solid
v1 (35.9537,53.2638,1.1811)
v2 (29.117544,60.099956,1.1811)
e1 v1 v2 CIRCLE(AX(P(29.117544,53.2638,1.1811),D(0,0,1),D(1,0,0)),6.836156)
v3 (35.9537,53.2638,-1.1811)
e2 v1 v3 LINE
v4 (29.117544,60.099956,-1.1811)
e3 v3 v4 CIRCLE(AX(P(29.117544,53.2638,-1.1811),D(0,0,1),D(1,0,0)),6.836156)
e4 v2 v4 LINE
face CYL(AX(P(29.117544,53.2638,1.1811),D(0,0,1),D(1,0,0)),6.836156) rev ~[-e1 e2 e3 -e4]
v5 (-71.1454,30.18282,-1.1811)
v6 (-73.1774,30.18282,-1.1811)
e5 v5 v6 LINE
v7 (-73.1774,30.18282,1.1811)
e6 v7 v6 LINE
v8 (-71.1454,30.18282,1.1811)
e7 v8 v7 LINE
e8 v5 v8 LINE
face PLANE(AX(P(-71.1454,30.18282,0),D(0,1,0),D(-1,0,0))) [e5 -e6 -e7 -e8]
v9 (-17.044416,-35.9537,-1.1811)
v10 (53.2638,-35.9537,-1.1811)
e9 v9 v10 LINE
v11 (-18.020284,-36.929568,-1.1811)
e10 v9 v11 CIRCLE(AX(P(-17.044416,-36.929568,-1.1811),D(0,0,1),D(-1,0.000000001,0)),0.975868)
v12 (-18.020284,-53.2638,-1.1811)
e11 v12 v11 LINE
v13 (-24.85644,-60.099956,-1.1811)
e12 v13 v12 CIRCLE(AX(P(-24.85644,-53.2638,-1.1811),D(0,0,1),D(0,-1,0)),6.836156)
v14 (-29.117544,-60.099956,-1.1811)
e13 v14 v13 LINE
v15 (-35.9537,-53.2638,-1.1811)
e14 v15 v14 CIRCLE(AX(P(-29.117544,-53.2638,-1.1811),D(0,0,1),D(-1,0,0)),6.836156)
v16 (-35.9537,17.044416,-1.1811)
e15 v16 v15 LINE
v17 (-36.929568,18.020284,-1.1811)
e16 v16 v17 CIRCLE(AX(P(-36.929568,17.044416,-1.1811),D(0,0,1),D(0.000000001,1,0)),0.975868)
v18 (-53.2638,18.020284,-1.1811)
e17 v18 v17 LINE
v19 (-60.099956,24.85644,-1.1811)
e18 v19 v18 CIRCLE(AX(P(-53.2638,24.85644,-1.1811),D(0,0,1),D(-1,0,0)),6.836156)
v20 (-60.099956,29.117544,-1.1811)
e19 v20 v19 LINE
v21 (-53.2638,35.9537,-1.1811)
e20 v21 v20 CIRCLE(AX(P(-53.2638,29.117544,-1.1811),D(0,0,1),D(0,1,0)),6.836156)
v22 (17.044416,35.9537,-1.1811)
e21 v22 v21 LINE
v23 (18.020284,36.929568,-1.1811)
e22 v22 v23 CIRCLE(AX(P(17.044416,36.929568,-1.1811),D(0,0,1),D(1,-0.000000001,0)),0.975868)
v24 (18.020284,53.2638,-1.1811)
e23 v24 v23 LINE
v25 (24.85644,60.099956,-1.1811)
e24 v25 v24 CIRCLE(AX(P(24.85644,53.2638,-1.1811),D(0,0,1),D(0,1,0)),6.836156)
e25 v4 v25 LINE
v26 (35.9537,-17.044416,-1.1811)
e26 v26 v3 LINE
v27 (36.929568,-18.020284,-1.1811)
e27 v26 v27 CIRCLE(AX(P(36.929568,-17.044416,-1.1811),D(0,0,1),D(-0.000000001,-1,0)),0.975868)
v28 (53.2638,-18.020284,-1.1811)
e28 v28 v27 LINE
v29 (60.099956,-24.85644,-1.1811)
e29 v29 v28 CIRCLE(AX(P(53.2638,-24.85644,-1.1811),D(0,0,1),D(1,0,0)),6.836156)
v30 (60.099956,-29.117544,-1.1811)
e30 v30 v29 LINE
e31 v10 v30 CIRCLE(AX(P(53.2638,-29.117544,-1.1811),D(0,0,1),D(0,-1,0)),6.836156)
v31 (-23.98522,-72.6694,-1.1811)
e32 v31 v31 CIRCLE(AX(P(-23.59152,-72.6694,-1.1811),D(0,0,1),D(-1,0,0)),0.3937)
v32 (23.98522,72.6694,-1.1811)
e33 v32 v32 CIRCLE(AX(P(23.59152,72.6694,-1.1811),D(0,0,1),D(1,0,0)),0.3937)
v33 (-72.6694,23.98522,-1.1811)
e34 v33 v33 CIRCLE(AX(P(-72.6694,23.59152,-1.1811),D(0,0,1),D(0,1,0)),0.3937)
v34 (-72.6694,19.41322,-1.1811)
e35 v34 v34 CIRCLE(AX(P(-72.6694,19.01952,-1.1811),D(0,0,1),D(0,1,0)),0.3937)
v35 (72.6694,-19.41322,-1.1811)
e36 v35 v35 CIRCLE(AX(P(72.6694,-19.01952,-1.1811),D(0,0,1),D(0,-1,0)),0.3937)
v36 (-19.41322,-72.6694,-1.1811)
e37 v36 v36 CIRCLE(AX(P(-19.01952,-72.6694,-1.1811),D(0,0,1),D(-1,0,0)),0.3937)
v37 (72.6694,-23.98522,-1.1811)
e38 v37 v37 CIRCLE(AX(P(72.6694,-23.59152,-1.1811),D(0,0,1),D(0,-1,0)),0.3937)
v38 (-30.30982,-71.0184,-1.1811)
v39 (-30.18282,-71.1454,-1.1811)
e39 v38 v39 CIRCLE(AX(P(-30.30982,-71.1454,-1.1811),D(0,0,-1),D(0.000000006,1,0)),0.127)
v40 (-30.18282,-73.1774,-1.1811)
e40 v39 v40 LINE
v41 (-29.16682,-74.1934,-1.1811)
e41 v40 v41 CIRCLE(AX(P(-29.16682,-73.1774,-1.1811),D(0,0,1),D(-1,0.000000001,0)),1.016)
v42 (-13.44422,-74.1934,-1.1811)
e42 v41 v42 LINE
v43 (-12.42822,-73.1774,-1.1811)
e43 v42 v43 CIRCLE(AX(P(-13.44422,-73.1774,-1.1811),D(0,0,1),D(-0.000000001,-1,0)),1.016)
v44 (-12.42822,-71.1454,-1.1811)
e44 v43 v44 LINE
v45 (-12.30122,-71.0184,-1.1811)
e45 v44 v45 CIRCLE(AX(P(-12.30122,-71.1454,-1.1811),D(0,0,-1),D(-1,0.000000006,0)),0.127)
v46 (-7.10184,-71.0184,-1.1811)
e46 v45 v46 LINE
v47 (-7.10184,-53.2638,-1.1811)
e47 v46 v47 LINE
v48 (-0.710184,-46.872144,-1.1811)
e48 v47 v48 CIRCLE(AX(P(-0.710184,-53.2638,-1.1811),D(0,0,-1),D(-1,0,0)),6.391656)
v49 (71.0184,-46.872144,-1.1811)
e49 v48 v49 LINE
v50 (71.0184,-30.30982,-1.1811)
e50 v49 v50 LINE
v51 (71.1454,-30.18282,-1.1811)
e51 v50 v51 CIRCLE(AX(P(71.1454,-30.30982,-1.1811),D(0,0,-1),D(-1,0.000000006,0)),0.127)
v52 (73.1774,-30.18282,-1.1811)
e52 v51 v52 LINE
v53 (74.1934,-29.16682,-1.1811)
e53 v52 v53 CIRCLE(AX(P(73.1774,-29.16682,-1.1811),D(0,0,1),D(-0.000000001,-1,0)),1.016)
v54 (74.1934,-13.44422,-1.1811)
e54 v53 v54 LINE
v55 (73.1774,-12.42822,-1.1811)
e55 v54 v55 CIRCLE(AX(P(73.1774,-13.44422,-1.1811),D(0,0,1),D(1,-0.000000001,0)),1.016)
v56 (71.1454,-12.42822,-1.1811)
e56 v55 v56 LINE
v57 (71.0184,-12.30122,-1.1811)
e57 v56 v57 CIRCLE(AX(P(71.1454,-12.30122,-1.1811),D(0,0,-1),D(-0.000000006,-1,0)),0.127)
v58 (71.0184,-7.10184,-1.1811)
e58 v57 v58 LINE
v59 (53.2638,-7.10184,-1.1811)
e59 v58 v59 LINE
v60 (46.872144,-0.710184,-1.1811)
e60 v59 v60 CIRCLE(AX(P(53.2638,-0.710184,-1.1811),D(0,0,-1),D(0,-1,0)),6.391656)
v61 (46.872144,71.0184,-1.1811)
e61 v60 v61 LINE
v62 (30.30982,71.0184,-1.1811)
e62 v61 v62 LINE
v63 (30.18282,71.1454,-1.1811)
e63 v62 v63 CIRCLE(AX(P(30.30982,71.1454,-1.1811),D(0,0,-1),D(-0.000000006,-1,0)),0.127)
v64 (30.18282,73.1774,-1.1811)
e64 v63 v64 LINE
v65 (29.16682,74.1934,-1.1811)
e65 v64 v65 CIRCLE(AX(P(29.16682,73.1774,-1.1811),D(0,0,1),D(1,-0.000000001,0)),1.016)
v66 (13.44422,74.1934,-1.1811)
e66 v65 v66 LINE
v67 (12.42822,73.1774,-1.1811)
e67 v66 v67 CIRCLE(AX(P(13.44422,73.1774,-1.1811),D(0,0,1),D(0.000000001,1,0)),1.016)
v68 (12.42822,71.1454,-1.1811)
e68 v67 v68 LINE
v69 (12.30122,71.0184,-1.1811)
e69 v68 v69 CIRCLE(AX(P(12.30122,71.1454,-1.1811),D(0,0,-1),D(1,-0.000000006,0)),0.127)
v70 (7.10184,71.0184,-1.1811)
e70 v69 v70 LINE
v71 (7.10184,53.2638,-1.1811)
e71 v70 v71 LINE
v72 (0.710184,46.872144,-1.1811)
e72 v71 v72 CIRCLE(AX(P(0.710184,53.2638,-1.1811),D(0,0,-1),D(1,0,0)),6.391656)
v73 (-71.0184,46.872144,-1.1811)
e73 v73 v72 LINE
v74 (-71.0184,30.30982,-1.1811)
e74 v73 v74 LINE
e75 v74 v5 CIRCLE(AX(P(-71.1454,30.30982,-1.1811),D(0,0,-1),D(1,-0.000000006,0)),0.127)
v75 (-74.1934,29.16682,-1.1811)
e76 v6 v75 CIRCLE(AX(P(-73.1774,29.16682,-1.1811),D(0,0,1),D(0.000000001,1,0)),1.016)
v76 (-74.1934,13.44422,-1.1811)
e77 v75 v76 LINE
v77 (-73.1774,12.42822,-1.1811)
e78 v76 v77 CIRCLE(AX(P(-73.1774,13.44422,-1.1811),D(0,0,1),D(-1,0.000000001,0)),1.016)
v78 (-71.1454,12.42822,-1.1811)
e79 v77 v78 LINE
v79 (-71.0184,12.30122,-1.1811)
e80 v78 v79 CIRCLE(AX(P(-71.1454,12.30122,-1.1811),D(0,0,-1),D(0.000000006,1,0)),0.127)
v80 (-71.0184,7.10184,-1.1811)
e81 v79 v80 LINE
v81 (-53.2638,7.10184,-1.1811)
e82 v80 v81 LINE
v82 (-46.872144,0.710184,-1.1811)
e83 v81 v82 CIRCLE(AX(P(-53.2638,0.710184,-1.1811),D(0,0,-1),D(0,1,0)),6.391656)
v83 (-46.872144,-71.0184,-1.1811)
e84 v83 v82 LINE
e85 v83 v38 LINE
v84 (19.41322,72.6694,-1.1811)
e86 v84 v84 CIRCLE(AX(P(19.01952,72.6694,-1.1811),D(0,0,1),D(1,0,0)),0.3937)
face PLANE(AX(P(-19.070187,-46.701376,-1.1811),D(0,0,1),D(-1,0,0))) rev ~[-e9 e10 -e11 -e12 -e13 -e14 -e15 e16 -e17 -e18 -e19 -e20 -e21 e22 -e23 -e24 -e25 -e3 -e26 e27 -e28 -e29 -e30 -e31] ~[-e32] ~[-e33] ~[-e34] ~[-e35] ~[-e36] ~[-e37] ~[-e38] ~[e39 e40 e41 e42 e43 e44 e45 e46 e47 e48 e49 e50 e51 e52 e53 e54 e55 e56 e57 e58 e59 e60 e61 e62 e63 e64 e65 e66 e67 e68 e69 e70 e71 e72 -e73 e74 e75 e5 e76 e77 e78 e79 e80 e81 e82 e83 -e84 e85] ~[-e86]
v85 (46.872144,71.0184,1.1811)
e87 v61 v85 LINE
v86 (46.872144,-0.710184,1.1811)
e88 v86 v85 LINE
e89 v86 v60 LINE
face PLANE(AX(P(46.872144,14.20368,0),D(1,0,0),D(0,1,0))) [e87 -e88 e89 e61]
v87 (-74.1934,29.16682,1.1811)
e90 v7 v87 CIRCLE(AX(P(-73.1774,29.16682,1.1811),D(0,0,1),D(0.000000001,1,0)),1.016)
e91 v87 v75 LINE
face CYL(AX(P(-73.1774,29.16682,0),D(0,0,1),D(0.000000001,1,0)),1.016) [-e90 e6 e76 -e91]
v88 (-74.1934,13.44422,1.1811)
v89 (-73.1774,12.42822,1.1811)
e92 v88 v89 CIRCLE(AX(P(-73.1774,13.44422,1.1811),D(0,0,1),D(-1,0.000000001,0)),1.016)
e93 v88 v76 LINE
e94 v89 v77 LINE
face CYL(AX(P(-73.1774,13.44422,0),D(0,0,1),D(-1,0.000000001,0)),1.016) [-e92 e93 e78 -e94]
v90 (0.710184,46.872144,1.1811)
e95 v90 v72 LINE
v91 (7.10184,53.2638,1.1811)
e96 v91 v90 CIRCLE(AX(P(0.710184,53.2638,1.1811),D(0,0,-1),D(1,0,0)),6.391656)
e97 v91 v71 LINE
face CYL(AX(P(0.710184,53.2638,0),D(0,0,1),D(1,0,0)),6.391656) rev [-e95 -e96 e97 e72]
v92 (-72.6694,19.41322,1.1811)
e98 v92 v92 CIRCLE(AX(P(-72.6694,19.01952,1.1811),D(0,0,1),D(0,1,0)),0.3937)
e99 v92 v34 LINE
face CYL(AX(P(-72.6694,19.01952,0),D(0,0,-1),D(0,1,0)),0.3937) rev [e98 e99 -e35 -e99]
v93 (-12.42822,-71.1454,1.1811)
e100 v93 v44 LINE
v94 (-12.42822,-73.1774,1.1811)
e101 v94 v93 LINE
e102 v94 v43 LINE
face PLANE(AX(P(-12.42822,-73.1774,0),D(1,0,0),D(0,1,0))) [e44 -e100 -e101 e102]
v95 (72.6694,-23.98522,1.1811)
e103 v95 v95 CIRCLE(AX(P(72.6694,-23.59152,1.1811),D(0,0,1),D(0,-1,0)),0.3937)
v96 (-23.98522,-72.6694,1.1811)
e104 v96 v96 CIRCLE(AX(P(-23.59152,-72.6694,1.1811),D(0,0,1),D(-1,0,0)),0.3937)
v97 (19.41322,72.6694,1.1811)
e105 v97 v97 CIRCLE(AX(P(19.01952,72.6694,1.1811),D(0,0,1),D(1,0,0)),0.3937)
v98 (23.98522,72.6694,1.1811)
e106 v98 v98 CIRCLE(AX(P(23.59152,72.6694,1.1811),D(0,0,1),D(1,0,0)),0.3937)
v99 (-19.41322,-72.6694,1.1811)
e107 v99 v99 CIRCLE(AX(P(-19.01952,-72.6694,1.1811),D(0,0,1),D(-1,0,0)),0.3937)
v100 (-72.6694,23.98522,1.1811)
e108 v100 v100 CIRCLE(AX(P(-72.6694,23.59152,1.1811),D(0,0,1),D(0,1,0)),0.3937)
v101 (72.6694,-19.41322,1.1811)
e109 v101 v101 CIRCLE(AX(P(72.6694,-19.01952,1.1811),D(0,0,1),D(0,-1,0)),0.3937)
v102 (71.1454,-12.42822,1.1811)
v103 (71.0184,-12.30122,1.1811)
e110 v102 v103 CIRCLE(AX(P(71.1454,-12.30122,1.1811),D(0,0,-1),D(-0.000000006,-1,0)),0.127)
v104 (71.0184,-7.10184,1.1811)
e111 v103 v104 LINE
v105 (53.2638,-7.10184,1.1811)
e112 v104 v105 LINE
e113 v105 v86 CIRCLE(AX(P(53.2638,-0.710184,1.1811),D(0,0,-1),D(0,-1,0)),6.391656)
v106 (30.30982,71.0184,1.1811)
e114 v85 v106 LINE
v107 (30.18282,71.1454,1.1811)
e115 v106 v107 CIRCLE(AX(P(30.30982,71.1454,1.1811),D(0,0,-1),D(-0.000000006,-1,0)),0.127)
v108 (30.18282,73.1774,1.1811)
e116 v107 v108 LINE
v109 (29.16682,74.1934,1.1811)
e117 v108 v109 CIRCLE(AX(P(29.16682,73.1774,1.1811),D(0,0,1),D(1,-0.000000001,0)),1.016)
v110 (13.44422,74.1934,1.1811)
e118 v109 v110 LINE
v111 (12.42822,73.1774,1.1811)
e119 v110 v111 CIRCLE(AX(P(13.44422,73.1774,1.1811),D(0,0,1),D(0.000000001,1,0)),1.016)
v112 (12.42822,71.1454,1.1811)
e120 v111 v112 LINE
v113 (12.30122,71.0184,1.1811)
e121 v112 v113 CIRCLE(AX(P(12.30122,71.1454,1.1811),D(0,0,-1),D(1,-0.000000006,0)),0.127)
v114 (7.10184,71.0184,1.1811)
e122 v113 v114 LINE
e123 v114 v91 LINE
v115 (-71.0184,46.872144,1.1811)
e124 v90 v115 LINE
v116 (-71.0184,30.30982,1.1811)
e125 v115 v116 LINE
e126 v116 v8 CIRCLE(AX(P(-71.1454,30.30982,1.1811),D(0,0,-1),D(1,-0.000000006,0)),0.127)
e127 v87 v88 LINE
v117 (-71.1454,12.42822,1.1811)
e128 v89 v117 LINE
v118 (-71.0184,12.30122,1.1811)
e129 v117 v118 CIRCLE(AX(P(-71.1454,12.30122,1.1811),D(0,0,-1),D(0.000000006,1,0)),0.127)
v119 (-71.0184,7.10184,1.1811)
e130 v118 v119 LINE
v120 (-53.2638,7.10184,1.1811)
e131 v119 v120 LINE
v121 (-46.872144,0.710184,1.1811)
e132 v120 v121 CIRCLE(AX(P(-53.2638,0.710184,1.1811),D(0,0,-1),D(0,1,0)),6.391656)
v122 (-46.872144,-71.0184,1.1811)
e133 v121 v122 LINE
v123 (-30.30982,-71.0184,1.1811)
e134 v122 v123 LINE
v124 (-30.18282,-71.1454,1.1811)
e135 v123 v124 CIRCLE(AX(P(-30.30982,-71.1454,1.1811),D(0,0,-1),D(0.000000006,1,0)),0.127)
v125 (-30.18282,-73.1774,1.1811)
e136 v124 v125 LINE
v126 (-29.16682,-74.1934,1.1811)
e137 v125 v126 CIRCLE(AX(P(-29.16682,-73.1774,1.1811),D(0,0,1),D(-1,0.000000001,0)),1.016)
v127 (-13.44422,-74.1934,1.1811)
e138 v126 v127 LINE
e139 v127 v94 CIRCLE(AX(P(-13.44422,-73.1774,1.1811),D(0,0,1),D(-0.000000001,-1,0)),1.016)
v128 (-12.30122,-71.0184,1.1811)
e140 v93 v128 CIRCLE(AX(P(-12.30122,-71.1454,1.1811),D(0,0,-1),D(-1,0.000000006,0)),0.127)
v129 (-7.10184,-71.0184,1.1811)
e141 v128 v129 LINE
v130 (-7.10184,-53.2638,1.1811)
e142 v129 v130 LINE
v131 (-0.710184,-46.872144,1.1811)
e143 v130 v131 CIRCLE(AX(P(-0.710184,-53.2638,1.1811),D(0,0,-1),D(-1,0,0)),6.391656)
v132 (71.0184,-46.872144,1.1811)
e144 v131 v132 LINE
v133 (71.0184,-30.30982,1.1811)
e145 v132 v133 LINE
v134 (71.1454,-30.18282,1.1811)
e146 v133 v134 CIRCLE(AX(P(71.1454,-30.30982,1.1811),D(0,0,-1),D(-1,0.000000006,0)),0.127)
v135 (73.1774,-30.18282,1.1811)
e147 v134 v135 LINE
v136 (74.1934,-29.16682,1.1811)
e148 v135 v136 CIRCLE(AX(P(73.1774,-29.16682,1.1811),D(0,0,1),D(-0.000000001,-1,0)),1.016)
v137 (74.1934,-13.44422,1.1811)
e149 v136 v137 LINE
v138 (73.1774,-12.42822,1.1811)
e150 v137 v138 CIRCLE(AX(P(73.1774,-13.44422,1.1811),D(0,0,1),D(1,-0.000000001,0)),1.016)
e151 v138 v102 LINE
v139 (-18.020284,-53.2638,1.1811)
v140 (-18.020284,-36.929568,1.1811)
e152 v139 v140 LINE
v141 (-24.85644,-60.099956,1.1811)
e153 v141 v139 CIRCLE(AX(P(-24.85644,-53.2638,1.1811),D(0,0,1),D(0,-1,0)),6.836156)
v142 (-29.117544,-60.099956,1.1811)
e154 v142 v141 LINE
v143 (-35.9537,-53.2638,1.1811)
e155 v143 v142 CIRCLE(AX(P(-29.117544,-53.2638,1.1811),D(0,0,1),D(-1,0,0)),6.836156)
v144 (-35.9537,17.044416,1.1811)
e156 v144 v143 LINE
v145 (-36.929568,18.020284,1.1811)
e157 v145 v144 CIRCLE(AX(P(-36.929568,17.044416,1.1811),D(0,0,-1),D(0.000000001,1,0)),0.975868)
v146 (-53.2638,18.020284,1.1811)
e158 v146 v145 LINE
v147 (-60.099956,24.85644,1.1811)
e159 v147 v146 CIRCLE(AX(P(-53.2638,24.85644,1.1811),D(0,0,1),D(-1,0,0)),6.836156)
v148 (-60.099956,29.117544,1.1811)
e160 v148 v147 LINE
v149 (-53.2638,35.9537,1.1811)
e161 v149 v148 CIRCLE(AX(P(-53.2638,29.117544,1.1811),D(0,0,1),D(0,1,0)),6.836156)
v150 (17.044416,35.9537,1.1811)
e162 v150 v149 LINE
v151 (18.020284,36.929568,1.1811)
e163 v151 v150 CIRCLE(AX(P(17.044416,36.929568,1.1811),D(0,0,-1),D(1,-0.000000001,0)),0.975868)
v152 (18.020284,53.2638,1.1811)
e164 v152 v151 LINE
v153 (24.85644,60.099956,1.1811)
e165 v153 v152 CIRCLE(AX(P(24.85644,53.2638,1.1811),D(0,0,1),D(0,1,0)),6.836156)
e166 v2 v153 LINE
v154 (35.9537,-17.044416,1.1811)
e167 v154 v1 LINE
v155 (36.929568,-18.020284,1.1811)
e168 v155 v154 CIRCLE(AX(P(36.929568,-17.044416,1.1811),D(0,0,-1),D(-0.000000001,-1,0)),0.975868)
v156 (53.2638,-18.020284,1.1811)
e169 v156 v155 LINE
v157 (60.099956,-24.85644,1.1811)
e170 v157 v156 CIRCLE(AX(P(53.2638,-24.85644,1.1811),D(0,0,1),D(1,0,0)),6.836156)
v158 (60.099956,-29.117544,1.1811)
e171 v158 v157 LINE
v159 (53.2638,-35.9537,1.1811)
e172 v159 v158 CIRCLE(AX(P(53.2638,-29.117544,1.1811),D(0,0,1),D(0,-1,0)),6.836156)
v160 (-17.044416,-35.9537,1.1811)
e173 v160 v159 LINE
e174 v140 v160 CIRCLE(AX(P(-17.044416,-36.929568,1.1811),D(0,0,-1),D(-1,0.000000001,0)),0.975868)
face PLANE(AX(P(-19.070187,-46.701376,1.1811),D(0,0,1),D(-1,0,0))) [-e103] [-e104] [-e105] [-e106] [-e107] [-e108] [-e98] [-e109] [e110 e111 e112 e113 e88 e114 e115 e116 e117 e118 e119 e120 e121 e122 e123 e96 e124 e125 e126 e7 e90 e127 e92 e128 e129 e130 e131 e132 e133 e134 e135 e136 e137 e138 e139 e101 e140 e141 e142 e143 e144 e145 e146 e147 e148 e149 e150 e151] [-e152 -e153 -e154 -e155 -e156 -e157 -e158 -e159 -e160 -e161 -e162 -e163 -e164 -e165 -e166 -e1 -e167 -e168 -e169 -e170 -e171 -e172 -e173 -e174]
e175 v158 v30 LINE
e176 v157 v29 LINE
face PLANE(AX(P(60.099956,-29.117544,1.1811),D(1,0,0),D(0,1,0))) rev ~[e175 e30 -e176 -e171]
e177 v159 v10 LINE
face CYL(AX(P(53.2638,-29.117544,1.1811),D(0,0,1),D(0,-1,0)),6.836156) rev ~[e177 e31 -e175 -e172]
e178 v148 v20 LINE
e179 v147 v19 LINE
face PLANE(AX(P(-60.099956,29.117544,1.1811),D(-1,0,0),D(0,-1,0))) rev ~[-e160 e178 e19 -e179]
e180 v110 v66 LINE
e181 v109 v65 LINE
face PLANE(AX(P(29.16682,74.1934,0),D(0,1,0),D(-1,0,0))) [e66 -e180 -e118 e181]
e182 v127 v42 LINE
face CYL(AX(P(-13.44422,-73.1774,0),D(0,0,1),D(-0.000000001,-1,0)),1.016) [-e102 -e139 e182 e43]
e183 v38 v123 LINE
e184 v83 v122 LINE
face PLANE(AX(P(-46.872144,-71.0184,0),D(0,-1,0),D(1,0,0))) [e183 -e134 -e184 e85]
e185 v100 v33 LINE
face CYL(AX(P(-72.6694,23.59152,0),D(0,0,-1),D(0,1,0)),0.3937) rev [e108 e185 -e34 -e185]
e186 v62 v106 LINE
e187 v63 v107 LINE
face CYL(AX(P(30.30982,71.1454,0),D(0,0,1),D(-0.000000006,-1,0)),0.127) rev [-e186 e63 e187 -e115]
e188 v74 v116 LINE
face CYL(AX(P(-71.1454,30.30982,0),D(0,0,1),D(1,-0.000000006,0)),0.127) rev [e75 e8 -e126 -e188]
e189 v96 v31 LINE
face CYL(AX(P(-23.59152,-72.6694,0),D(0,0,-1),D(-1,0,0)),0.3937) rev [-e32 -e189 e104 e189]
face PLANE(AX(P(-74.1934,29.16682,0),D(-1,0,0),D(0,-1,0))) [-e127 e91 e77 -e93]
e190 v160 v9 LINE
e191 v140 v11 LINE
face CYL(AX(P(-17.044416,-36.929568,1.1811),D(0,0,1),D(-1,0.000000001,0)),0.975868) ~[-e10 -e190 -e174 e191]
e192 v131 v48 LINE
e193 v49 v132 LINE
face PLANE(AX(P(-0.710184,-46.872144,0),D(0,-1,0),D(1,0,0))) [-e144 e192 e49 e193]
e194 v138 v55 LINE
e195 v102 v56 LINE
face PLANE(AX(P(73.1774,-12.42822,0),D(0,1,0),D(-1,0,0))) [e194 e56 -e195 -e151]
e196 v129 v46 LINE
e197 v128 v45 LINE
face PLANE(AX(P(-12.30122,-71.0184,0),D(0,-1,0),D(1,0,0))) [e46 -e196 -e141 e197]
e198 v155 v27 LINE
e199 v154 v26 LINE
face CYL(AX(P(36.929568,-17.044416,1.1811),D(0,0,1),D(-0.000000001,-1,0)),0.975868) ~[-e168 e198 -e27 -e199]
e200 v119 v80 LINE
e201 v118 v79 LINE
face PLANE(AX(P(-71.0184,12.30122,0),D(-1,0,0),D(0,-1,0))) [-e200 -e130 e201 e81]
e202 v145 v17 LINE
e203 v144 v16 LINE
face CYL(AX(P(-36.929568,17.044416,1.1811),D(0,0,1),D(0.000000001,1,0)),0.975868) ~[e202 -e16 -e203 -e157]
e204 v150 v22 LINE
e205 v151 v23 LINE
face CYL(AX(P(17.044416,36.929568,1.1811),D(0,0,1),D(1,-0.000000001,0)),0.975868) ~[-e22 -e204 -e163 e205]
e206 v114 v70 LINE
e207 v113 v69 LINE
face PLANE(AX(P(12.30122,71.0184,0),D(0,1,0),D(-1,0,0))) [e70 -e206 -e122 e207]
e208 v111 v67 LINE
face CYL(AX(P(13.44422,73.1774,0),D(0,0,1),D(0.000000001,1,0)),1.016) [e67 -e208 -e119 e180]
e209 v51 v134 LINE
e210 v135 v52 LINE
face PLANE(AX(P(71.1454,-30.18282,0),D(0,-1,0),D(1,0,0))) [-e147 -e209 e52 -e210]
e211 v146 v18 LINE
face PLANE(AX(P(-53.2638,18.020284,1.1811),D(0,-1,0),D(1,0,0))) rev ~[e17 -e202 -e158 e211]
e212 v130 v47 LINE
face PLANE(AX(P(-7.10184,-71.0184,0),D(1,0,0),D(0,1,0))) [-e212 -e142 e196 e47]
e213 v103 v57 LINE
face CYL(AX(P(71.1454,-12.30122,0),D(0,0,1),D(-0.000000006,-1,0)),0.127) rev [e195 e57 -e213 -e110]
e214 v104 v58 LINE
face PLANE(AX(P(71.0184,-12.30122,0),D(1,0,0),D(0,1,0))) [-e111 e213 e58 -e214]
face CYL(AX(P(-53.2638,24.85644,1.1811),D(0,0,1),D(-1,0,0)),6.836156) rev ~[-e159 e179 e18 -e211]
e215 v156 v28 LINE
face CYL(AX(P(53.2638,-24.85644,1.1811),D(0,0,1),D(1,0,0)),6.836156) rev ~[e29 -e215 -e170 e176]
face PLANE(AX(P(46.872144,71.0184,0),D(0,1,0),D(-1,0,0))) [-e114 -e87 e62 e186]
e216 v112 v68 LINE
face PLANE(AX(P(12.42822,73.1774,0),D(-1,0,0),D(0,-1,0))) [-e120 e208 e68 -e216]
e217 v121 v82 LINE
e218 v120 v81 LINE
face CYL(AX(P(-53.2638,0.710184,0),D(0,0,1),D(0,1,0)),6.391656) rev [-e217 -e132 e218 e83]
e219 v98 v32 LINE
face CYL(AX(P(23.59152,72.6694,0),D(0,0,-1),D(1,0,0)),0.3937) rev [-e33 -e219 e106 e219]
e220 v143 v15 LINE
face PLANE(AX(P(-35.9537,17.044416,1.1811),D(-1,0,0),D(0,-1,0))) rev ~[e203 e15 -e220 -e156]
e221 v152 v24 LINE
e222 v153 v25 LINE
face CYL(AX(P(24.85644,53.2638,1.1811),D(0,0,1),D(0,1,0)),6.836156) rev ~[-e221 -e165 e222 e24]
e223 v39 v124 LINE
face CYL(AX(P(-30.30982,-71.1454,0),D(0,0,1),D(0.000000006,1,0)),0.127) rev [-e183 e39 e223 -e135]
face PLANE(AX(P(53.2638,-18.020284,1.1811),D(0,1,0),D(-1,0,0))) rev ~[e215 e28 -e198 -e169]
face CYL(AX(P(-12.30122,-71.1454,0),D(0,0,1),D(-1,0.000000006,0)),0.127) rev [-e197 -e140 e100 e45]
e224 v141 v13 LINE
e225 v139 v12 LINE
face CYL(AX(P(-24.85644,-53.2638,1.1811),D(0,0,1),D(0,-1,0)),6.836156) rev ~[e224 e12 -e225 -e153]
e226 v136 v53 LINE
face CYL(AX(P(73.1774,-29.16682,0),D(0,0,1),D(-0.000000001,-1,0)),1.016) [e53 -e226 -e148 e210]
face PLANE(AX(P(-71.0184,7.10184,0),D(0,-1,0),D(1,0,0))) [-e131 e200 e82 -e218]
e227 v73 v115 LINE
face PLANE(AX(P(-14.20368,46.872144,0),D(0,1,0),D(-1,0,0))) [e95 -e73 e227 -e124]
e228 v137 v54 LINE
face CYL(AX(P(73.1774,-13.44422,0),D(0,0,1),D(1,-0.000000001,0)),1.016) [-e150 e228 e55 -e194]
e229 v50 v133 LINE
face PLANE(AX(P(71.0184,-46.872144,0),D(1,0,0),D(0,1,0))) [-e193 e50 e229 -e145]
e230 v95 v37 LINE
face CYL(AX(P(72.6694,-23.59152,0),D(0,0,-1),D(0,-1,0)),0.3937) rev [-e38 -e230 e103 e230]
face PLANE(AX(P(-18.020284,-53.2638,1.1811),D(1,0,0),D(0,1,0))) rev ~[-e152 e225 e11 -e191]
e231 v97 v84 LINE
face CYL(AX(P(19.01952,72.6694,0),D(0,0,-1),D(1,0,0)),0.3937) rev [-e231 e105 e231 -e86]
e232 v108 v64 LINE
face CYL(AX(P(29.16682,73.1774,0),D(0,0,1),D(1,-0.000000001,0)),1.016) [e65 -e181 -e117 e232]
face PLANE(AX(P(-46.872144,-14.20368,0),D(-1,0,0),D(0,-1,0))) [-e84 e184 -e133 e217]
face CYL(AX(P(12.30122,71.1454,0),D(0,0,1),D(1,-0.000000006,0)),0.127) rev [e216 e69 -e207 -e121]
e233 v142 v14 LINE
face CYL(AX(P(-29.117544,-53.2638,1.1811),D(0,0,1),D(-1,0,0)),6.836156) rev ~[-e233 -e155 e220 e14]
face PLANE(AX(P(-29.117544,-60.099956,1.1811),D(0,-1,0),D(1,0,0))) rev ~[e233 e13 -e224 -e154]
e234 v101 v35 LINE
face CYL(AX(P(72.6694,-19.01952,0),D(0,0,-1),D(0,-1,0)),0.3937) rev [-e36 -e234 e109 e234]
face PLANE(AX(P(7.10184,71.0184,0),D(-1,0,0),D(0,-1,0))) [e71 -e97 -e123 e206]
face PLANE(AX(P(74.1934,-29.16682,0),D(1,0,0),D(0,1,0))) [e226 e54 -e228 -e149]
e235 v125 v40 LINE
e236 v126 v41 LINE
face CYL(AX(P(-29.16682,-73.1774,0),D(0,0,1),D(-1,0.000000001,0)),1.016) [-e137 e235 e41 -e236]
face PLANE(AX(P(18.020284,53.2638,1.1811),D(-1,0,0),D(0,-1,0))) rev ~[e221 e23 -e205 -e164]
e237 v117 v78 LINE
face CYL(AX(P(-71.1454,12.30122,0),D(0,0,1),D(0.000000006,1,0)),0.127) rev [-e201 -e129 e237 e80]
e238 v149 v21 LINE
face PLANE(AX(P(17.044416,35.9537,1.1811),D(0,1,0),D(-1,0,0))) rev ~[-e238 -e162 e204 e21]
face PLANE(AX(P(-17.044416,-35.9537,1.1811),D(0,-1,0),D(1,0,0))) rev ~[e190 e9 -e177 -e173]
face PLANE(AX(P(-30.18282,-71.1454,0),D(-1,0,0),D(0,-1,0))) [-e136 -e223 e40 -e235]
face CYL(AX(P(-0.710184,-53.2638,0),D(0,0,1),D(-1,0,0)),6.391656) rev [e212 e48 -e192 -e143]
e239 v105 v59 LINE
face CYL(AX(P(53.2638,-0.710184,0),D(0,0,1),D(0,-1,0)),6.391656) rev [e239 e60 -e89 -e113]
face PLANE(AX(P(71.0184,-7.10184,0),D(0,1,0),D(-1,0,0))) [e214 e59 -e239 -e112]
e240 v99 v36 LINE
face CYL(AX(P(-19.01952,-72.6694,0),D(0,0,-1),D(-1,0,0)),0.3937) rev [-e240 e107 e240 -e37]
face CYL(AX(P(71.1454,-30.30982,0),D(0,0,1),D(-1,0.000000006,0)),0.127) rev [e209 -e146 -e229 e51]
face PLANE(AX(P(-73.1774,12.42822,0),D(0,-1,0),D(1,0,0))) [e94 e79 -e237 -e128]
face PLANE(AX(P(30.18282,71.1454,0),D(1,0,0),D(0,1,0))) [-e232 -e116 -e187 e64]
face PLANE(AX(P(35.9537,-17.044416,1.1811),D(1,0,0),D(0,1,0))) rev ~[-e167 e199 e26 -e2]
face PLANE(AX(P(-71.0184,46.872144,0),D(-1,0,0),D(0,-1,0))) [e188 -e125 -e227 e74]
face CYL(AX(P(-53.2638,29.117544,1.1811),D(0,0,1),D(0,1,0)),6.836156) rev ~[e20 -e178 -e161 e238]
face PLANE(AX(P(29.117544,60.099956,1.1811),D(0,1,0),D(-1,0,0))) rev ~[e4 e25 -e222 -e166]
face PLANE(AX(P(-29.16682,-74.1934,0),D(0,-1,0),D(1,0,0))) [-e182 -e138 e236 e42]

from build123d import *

# Parameters (mm, degrees)
SKETCH2_R          = 0.3937
EXTRUDE1_DEPTH     = 1.1811
CIRPATTERN1_COUNT  = 4
CUT_EXTRUDE1_DEPTH = 2.54


with BuildPart() as part:
    # Sketch2 → Extrude1 (new, symmetric)
    with BuildSketch(Plane.XY):
        with BuildLine():
            Line((-28.40736, 35.5092), (17.044416, 35.5092))
            ThreePointArc((17.044416, 35.5092), (18.048767845, 35.925216155), (18.464784, 36.929568))
            Line((18.464784, 36.929568), (18.464784, 53.2638))
            ThreePointArc((18.464784, 53.2638), (20.336856699, 57.783383301), (24.85644, 59.655456))
            Line((24.85644, 59.655456), (29.117544, 59.655456))
            ThreePointArc((29.117544, 59.655456), (33.637127301, 57.783383301), (35.5092, 53.2638))
            Line((35.5092, 53.2638), (35.5092, 14.20368))
            Line((35.5092, 14.20368), (46.872144, 14.20368))
            Line((46.872144, 14.20368), (46.872144, 71.0184))
            Line((46.872144, 71.0184), (30.30982, 71.0184))
            ThreePointArc((30.30982, 71.0184), (30.220017439, 71.055597439), (30.18282, 71.1454))
            Line((30.18282, 71.1454), (30.18282, 73.1774))
            ThreePointArc((30.18282, 73.1774), (29.88524049, 73.89582049), (29.16682, 74.1934))
            Line((29.16682, 74.1934), (13.44422, 74.1934))
            ThreePointArc((13.44422, 74.1934), (12.72579951, 73.89582049), (12.42822, 73.1774))
            Line((12.42822, 73.1774), (12.42822, 71.1454))
            ThreePointArc((12.42822, 71.1454), (12.391022561, 71.055597439), (12.30122, 71.0184))
            Line((12.30122, 71.0184), (7.10184, 71.0184))
            Line((7.10184, 71.0184), (7.10184, 53.2638))
            ThreePointArc((7.10184, 53.2638), (5.229767301, 48.744216699), (0.710184, 46.872144))
            Line((0.710184, 46.872144), (-28.40736, 46.872144))
            Line((-28.40736, 46.872144), (-28.40736, 35.5092))
        make_face()
        with Locations((19.01952, 72.6694)):
            Circle(SKETCH2_R, mode=Mode.SUBTRACT)
        with Locations((23.59152, 72.6694)):
            Circle(SKETCH2_R, mode=Mode.SUBTRACT)
    extrude1 = extrude(amount=EXTRUDE1_DEPTH, both=True)

    # CirPattern1: Extrude1 ×4 about axis
    cirpattern1_axis = Axis((0, 0, -69.733664692), (0, 0, 1))
    for i in range(1, CIRPATTERN1_COUNT):
        add(extrude1.rotate(cirpattern1_axis, i * 360 / CIRPATTERN1_COUNT))

    # Sketch3 → Cut-Extrude1 (cut)
    with BuildSketch(Plane.XY.offset(1.1811)):
        with BuildLine():
            Line((29.117544, 60.099956), (24.85644, 60.099956))
            ThreePointArc((24.85644, 60.099956), (20.022547735, 58.097692265), (18.020284, 53.2638))
            Line((18.020284, 53.2638), (18.020284, 36.929568))
            ThreePointArc((18.020284, 36.929568), (17.73445888, 36.23952512), (17.044416, 35.9537))
            Line((17.044416, 35.9537), (-53.2638, 35.9537))
            ThreePointArc((-53.2638, 35.9537), (-58.097692265, 33.951436265), (-60.099956, 29.117544))
            Line((-60.099956, 29.117544), (-60.099956, 24.85644))
            ThreePointArc((-60.099956, 24.85644), (-58.097692265, 20.022547735), (-53.2638, 18.020284))
            Line((-53.2638, 18.020284), (-36.929568, 18.020284))
            ThreePointArc((-36.929568, 18.020284), (-36.23952512, 17.73445888), (-35.9537, 17.044416))
            Line((-35.9537, 17.044416), (-35.9537, -53.2638))
            ThreePointArc((-35.9537, -53.2638), (-33.951436265, -58.097692265), (-29.117544, -60.099956))
            Line((-29.117544, -60.099956), (-24.85644, -60.099956))
            ThreePointArc((-24.85644, -60.099956), (-20.022547735, -58.097692265), (-18.020284, -53.2638))
            Line((-18.020284, -53.2638), (-18.020284, -36.929568))
            ThreePointArc((-18.020284, -36.929568), (-17.73445888, -36.23952512), (-17.044416, -35.9537))
            Line((-17.044416, -35.9537), (53.2638, -35.9537))
            ThreePointArc((53.2638, -35.9537), (58.097692265, -33.951436265), (60.099956, -29.117544))
            Line((60.099956, -29.117544), (60.099956, -24.85644))
            ThreePointArc((60.099956, -24.85644), (58.097692265, -20.022547735), (53.2638, -18.020284))
            Line((53.2638, -18.020284), (36.929568, -18.020284))
            ThreePointArc((36.929568, -18.020284), (36.23952512, -17.73445888), (35.9537, -17.044416))
            Line((35.9537, -17.044416), (35.9537, 53.2638))
            ThreePointArc((35.9537, 53.2638), (33.951436265, 58.097692265), (29.117544, 60.099956))
        make_face()
    extrude(amount=-CUT_EXTRUDE1_DEPTH, mode=Mode.SUBTRACT)


solid = part.part
